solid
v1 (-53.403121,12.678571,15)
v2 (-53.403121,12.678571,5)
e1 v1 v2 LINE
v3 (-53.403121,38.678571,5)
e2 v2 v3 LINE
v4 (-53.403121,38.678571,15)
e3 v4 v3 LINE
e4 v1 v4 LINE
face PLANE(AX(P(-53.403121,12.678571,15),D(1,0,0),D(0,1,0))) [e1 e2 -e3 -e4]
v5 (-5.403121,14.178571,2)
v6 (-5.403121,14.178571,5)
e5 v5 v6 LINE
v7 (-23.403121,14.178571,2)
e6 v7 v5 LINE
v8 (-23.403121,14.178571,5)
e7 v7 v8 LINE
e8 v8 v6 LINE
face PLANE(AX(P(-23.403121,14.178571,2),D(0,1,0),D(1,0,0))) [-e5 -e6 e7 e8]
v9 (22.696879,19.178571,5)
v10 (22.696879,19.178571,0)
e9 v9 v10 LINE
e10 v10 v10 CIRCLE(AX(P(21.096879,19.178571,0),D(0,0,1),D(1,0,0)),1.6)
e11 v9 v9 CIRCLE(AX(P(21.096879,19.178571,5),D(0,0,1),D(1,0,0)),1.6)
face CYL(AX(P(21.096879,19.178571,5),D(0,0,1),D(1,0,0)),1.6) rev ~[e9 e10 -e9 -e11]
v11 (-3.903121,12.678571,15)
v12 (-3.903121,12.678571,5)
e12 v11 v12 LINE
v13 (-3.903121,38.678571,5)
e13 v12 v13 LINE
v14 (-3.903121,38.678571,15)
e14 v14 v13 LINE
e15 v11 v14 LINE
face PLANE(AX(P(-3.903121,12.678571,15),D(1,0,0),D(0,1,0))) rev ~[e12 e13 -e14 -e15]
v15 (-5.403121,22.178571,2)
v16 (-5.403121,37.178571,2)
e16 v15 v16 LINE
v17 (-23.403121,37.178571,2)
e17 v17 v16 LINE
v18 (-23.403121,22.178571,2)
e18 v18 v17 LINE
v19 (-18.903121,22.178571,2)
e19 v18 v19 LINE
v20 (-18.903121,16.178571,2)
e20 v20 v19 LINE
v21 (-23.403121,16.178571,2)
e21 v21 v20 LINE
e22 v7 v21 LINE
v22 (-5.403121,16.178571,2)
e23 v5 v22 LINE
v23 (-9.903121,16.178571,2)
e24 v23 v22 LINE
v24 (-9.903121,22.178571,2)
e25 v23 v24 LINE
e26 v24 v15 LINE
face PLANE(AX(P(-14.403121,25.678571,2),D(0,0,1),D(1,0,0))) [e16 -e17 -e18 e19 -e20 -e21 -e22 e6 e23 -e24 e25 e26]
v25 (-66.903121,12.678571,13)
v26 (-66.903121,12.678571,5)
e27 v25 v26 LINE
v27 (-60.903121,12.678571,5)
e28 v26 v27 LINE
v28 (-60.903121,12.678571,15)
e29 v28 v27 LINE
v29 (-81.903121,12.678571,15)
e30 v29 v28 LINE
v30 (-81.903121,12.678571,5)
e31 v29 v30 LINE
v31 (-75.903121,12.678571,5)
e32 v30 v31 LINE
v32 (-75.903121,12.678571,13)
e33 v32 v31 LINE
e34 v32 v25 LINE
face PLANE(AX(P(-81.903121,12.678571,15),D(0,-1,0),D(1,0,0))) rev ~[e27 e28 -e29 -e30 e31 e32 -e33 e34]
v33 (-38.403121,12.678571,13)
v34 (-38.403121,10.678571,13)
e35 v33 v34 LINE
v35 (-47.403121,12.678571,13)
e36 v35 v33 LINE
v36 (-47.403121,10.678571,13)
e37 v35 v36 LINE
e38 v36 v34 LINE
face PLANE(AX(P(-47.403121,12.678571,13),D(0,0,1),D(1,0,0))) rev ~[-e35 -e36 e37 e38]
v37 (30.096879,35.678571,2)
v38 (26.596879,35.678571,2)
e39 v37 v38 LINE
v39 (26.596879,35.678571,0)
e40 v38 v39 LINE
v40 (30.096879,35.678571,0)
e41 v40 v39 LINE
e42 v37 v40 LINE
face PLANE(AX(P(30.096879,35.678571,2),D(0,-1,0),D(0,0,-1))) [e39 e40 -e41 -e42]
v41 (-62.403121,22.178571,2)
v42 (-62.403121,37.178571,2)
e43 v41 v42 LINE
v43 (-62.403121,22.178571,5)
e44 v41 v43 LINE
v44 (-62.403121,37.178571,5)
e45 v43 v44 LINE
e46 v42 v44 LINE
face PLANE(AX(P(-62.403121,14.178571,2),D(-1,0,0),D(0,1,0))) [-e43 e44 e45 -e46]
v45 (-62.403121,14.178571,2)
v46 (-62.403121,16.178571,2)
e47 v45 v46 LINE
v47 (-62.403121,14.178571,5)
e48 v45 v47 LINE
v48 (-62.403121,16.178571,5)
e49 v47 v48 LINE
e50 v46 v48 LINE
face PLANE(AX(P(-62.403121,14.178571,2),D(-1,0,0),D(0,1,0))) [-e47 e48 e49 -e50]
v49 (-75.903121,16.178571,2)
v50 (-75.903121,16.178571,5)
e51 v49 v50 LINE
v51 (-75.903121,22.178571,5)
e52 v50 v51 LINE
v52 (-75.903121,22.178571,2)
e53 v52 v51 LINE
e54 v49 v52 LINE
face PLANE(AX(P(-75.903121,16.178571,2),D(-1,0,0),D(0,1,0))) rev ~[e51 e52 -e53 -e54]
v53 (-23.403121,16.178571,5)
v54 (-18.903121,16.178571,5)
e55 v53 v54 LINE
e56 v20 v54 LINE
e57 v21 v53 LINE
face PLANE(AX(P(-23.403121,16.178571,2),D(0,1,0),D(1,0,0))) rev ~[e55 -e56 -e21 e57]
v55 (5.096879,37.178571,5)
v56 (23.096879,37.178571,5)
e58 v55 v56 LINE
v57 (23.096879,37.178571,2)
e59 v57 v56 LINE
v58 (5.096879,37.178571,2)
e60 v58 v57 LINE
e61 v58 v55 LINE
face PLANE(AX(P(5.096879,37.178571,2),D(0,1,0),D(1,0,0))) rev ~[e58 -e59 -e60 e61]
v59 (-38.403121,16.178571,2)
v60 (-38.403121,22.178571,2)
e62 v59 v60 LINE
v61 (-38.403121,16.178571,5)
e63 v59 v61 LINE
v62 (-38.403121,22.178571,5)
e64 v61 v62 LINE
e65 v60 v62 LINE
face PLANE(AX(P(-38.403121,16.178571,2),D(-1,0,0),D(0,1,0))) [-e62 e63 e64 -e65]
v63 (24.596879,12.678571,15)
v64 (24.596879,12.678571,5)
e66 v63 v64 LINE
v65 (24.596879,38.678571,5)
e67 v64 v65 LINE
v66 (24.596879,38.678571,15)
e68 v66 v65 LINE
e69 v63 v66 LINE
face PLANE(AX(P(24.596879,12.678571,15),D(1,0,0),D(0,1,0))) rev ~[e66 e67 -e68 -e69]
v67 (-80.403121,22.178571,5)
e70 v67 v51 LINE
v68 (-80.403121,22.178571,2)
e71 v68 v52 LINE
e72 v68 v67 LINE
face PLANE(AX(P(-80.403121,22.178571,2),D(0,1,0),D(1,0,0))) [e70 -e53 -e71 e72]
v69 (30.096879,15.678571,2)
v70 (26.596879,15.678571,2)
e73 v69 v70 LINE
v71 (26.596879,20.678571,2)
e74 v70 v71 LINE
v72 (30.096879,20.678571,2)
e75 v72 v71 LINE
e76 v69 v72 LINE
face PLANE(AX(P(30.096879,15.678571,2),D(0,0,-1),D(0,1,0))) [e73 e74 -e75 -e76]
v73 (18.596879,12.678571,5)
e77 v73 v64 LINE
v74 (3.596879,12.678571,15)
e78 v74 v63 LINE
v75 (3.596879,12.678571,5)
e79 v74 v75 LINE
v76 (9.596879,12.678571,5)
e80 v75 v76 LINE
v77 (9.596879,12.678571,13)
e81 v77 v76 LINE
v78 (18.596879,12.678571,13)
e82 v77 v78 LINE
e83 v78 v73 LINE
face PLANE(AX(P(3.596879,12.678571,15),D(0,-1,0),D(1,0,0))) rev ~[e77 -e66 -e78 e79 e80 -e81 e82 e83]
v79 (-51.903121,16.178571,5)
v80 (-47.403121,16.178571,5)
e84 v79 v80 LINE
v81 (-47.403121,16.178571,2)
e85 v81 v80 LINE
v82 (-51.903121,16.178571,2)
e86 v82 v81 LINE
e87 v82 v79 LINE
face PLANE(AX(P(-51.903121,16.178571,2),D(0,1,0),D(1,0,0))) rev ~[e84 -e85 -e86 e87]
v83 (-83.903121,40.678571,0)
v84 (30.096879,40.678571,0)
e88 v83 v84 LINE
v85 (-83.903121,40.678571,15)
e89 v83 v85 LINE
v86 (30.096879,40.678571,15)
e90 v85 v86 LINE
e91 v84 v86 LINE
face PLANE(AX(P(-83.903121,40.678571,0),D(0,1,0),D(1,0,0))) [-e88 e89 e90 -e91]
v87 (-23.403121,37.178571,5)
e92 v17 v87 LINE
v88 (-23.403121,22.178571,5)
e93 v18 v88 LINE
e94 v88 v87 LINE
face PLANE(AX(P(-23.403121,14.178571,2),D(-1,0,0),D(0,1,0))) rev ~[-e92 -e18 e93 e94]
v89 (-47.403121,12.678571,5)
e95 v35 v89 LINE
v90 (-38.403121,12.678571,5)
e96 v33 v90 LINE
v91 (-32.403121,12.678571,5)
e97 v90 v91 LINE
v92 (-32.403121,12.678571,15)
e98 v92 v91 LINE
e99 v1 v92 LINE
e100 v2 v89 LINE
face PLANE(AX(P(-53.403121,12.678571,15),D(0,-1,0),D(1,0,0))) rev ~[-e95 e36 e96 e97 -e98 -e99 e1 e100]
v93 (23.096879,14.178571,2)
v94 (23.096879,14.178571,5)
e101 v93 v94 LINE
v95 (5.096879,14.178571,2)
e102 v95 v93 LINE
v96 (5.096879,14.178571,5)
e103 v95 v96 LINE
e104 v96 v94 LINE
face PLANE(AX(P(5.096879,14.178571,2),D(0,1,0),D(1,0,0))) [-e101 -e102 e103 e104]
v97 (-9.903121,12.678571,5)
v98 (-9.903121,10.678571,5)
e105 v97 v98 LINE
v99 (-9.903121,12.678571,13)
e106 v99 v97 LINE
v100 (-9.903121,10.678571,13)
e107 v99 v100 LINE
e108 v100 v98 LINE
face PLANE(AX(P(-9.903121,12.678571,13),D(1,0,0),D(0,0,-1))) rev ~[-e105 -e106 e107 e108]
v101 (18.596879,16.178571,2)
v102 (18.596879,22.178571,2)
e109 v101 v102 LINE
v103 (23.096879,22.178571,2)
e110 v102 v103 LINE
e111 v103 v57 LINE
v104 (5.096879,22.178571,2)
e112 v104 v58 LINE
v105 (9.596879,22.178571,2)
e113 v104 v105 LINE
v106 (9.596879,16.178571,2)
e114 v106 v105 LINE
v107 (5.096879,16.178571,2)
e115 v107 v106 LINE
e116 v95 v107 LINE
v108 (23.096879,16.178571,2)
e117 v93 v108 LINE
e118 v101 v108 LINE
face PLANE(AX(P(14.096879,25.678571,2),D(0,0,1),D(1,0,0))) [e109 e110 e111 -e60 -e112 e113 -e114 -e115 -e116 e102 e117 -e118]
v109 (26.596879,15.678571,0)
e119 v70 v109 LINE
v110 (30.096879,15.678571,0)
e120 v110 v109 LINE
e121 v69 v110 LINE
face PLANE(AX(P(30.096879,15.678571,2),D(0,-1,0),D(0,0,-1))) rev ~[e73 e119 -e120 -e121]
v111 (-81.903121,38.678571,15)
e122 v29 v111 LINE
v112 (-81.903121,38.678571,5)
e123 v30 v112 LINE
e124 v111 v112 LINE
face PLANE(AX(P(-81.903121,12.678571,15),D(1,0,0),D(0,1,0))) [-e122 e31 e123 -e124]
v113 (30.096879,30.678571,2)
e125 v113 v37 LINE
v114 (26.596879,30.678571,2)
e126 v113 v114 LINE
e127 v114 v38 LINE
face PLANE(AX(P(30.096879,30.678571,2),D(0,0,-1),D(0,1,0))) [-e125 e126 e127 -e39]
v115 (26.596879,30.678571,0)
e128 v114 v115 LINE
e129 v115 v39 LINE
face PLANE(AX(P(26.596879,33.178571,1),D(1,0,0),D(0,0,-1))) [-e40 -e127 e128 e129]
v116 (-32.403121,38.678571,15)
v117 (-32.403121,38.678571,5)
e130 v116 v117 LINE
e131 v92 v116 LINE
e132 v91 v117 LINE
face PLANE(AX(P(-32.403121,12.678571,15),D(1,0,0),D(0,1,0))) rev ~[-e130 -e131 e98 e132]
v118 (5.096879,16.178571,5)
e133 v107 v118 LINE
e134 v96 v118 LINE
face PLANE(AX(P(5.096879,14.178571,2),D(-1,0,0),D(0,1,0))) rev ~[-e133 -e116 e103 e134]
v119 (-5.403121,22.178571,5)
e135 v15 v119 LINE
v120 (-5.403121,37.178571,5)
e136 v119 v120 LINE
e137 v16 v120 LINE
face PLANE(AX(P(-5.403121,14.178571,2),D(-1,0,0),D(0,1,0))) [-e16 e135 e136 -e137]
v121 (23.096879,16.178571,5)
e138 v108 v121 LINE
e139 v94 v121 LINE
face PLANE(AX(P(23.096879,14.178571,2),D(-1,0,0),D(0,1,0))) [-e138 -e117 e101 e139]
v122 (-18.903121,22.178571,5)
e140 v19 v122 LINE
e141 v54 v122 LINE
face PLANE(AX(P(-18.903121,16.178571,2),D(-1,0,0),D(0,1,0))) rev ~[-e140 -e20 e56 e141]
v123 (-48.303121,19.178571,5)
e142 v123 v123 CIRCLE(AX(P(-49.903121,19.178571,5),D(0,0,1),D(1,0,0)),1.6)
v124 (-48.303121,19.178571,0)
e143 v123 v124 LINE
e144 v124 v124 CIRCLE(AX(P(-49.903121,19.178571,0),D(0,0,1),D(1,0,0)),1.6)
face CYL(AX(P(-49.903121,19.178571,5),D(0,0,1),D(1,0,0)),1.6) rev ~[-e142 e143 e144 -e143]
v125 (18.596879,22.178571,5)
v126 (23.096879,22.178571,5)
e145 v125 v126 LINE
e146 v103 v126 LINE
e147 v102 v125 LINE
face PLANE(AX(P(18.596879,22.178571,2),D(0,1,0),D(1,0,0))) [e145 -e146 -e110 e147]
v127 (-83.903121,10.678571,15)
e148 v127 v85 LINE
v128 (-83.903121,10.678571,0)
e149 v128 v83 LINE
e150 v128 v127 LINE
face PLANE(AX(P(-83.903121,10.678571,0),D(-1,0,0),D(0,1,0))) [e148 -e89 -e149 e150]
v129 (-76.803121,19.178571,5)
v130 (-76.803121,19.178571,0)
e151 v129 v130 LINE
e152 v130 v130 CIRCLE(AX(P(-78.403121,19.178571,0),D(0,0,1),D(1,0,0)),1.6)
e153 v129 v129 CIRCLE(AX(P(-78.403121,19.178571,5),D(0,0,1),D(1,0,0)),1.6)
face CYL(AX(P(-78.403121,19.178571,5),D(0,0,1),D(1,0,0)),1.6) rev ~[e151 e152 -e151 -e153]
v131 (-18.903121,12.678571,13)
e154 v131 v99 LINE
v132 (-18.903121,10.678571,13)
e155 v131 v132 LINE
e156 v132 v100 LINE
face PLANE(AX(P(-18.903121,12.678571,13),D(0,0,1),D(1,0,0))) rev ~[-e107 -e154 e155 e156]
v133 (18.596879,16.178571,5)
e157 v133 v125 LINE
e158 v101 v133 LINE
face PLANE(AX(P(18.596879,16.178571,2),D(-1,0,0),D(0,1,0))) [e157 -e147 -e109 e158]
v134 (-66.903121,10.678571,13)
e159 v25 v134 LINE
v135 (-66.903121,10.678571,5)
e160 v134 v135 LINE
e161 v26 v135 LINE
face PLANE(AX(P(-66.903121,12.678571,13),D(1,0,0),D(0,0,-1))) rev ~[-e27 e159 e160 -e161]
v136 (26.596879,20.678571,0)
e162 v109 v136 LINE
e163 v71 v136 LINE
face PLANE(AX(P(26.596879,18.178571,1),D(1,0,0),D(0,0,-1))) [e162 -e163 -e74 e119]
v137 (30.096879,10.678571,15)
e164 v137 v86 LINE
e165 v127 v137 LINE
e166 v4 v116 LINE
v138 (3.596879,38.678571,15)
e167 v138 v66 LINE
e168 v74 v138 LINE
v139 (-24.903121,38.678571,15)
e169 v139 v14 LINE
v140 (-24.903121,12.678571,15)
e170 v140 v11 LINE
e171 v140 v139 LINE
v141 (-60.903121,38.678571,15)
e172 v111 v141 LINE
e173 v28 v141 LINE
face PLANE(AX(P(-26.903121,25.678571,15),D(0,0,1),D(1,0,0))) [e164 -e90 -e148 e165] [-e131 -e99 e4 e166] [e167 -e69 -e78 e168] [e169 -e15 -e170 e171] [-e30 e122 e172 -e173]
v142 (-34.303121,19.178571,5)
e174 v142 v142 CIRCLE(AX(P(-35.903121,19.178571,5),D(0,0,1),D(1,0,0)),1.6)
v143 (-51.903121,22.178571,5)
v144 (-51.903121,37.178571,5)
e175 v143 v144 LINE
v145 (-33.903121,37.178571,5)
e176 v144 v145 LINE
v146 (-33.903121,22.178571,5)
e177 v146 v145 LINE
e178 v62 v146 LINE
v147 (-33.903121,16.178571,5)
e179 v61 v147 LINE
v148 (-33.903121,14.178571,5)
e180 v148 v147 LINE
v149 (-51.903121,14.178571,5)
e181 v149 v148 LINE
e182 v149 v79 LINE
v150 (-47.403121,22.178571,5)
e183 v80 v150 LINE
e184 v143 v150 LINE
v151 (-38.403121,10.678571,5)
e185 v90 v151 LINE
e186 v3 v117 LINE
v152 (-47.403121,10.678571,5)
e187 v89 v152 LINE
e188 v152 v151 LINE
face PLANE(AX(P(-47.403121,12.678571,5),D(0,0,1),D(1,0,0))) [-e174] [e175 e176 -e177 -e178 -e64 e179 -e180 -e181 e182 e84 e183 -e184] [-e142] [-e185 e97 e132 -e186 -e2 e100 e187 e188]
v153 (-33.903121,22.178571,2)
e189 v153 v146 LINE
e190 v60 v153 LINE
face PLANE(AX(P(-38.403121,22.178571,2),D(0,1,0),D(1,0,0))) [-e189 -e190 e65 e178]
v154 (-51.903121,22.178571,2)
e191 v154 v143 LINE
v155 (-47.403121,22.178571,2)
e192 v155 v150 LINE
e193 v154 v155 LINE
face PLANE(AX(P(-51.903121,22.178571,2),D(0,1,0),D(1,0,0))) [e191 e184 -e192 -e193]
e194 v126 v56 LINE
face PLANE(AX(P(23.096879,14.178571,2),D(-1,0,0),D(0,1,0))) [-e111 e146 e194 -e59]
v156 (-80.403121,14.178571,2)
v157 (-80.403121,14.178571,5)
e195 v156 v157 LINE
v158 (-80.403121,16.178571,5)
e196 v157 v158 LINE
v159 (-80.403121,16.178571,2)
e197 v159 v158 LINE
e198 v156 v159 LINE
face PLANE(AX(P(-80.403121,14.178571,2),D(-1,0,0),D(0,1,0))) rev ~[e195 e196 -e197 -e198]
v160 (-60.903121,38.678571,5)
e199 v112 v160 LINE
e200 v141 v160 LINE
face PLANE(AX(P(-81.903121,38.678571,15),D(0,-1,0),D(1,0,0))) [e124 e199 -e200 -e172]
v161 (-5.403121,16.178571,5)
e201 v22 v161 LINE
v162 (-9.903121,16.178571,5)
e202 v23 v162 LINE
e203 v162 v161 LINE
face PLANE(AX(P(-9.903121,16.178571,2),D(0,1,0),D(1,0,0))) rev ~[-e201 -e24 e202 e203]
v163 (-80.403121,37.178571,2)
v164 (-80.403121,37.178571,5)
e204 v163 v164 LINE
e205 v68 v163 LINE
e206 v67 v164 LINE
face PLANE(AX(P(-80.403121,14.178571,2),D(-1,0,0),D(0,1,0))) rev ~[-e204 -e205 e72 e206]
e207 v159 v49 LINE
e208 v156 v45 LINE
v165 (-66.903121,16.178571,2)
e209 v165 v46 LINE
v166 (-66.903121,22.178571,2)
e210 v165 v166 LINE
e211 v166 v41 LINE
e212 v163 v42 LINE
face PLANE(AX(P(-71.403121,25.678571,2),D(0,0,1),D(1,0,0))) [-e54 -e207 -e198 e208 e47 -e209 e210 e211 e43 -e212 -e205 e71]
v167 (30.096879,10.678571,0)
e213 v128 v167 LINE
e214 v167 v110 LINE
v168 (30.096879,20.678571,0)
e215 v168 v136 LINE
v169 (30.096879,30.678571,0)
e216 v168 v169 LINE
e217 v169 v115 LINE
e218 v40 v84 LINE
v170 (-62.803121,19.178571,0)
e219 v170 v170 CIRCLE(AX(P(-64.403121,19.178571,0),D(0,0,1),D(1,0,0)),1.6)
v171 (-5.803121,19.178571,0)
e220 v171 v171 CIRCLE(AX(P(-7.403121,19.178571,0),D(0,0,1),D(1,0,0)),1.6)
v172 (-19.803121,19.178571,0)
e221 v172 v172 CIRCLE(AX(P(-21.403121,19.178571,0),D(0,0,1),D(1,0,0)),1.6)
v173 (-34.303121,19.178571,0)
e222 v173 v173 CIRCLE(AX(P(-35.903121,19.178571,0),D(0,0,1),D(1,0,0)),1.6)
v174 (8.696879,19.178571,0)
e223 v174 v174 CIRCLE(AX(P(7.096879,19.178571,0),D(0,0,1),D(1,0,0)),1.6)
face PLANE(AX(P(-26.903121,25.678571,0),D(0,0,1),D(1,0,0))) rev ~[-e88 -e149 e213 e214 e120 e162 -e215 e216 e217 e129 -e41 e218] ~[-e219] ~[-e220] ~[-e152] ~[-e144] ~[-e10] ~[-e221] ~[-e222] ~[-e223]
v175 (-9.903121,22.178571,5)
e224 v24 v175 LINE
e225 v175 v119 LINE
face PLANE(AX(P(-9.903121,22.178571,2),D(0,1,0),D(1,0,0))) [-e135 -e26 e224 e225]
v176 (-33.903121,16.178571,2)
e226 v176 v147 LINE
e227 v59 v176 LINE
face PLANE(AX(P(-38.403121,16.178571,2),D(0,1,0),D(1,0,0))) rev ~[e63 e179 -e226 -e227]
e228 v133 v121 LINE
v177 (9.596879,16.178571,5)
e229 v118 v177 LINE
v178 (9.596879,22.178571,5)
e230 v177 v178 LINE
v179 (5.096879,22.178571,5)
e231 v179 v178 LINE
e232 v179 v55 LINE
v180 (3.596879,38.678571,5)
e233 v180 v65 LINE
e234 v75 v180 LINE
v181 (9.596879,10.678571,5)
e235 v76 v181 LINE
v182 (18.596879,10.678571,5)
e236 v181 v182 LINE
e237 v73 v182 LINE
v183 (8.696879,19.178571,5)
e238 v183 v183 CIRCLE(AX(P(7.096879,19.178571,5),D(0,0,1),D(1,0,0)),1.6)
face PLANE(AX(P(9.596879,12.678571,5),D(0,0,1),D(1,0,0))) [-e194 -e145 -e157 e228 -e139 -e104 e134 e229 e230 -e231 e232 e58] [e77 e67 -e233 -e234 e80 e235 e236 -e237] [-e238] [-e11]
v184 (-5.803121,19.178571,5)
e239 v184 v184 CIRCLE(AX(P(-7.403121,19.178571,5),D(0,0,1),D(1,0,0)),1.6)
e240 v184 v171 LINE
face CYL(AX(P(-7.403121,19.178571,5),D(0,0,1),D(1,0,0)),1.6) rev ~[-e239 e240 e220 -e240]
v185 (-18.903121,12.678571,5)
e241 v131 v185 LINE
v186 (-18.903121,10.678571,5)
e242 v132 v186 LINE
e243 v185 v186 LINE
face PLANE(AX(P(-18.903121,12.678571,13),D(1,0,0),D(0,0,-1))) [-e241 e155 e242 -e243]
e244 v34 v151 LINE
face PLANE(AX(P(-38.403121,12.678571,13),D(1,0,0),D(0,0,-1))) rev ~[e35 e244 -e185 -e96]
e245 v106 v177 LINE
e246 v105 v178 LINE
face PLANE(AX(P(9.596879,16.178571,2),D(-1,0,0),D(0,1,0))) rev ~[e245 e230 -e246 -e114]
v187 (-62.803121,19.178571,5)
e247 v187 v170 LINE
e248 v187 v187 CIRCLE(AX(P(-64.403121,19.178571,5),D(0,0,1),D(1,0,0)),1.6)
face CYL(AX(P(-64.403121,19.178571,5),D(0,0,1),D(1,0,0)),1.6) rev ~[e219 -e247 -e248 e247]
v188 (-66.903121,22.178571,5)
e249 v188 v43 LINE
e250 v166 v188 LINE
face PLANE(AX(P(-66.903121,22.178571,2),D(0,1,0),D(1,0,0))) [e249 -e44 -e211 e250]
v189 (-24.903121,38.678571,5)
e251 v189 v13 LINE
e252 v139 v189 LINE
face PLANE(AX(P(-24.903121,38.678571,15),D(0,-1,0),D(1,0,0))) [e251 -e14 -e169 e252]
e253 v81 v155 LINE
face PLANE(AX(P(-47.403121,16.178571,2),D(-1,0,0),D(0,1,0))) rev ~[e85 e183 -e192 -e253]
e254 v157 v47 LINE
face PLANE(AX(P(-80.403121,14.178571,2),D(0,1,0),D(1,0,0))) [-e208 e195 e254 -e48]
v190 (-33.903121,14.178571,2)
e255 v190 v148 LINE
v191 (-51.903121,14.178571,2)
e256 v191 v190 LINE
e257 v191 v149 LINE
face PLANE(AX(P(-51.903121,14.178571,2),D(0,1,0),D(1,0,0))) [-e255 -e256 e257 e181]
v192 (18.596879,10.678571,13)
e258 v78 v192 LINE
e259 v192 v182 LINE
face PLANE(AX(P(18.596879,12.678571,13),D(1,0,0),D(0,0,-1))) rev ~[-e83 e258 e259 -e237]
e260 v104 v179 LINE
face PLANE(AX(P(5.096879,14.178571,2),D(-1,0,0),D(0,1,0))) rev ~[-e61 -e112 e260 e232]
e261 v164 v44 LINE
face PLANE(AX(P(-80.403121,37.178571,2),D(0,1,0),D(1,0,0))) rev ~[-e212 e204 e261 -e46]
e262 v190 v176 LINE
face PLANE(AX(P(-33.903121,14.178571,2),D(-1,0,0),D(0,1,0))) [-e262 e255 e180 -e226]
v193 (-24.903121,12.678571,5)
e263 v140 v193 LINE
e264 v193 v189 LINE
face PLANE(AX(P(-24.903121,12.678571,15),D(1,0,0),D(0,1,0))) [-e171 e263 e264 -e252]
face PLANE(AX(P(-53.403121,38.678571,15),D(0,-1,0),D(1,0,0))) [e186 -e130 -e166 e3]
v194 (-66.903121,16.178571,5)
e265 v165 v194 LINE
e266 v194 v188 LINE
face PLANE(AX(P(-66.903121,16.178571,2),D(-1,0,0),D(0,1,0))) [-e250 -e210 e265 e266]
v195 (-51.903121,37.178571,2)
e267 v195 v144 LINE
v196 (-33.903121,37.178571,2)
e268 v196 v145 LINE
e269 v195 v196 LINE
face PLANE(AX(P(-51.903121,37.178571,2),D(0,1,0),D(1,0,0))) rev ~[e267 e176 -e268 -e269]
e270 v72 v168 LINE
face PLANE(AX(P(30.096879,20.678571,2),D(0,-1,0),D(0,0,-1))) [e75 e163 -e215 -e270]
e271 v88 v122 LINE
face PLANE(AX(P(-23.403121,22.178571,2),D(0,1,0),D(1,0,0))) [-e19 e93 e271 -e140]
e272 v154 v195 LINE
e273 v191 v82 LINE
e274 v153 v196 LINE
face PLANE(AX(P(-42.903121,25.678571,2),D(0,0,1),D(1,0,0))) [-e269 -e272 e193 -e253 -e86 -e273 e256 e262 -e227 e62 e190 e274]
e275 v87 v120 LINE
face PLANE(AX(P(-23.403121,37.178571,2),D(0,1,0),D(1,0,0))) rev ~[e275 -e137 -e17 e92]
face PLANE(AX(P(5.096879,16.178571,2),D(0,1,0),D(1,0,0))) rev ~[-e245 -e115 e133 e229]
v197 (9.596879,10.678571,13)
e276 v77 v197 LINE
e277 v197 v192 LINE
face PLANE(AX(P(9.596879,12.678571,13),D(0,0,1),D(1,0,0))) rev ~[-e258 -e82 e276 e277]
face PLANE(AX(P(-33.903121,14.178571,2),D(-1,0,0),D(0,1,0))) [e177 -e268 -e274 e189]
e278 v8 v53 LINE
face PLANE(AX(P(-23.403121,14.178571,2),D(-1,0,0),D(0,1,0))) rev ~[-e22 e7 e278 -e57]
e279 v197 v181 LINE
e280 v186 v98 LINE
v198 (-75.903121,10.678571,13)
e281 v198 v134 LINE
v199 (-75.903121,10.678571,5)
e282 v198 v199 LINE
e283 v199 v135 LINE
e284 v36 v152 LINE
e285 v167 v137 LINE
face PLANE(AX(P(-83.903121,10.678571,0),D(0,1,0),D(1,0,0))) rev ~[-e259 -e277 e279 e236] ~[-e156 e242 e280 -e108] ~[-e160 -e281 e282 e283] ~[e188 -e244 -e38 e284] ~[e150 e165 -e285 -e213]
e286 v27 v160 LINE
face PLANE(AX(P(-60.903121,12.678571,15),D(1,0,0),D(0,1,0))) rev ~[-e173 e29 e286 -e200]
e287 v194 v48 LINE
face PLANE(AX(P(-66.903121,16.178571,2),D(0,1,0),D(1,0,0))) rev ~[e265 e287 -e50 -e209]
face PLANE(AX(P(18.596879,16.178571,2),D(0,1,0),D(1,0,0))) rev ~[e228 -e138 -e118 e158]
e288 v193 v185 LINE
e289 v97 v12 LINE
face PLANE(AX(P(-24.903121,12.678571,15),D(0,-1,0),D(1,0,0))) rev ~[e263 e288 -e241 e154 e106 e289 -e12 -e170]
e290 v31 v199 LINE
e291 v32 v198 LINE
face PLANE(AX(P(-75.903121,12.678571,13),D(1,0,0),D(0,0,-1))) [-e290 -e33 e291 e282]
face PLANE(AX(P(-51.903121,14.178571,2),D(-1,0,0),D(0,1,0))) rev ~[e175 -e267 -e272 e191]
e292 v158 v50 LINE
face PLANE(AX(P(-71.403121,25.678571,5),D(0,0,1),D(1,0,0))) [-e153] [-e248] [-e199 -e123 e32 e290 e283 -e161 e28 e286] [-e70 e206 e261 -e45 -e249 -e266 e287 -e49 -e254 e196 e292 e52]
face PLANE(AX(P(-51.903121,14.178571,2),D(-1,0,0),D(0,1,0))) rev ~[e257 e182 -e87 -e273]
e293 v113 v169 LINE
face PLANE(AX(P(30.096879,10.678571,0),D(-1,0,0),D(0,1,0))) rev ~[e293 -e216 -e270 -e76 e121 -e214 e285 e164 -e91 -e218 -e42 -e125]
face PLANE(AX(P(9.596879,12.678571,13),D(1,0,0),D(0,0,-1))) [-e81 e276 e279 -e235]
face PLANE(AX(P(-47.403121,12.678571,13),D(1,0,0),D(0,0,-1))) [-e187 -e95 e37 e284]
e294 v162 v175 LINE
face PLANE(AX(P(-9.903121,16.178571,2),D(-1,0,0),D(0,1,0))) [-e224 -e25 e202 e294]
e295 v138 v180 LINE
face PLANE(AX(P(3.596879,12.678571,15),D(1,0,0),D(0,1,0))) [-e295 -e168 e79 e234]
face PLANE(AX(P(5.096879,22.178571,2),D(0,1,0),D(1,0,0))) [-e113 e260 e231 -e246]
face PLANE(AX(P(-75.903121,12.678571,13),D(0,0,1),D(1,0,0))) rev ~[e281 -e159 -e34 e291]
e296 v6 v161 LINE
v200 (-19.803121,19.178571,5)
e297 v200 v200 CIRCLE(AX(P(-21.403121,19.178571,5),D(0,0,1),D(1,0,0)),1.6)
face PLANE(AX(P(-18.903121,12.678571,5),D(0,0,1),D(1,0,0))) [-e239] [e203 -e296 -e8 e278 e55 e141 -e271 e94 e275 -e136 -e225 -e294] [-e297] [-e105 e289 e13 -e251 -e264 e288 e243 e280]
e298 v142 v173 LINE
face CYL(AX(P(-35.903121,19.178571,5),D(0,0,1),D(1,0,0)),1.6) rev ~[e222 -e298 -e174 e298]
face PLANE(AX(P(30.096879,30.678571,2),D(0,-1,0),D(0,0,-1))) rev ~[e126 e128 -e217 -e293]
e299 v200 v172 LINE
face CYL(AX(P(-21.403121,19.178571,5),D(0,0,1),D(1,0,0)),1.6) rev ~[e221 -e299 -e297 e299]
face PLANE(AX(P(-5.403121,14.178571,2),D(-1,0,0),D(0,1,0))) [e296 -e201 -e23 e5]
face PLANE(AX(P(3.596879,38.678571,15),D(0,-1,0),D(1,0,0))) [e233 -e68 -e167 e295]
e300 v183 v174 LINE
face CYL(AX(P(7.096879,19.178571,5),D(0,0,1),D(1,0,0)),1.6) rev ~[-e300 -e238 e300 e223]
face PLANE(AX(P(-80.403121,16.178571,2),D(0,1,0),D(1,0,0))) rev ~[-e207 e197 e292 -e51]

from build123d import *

# Parameters (mm, degrees)
SKETCH_1_W          = 114
SKETCH_1_H          = 30
EXTRUDE_1_DEPTH     = 15
SKETCH_2_W          = 21
SKETCH_2_H          = 26
CUT_EXTRUDE_1_DEPTH = 13
SKETCH_3_W          = 21
SKETCH_3_H          = 26
SKETCH_3_W_2        = 18
SKETCH_3_H_2        = 23
EXTRUDE_2_DEPTH     = 3
SKETCH_5_W          = 4.5
SKETCH_5_H          = 6
EXTRUDE_3_DEPTH     = 3
SKETCH_6_R          = 1.6
CUT_EXTRUDE_2_DEPTH = 94.778887913
SKETCH_7_W          = 9
SKETCH_7_H          = 8
CUT_EXTRUDE_3_DEPTH = 90.714734825
SKETCH_12_W         = 2
SKETCH_12_H         = 5
CUT_EXTRUDE_4_DEPTH = 3.5


with BuildPart() as part:
    # ｽｹｯﾁ1 → ﾎﾞｽ - 押し出し1 (new body)
    with BuildSketch(Plane.XY):
        with Locations((-26.90312059, 25.678571429)):
            Rectangle(SKETCH_1_W, SKETCH_1_H)
    extrude(amount=EXTRUDE_1_DEPTH)

    # ｽｹｯﾁ2 → ｶｯﾄ - 押し出し1 (cut)
    with BuildSketch(Plane.XY.offset(15)):
        with Locations((-71.40312059, 25.678571429)):
            Rectangle(SKETCH_2_W, SKETCH_2_H)
        with Locations((-42.90312059, 25.678571429)):
            Rectangle(SKETCH_2_W, SKETCH_2_H)
        with Locations((-14.40312059, 25.678571429)):
            Rectangle(SKETCH_2_W, SKETCH_2_H)
        with Locations((14.09687941, 25.678571429)):
            Rectangle(SKETCH_2_W, SKETCH_2_H)
    extrude(amount=-CUT_EXTRUDE_1_DEPTH, mode=Mode.SUBTRACT)

    # ｽｹｯﾁ3 → ﾎﾞｽ - 押し出し2 (add)
    # profile 1 of 4: a face of its own
    with BuildSketch(Plane.XY.offset(2)):
        with Locations((-71.40312059, 25.678571429)):
            Rectangle(SKETCH_3_W, SKETCH_3_H)
        with Locations((-71.40312059, 25.678571429)):
            Rectangle(SKETCH_3_W_2, SKETCH_3_H_2, mode=Mode.SUBTRACT)
    # profile 2 of 4: a face of its own
    with BuildSketch(Plane.XY.offset(2)):
        with Locations((-42.90312059, 25.678571429)):
            Rectangle(SKETCH_3_W, SKETCH_3_H)
        with Locations((-42.90312059, 25.678571429)):
            Rectangle(SKETCH_3_W_2, SKETCH_3_H_2, mode=Mode.SUBTRACT)
    # profile 3 of 4: a face of its own
    with BuildSketch(Plane.XY.offset(2)):
        with Locations((-14.40312059, 25.678571429)):
            Rectangle(SKETCH_3_W, SKETCH_3_H)
        with Locations((-14.40312059, 25.678571429)):
            Rectangle(SKETCH_3_W_2, SKETCH_3_H_2, mode=Mode.SUBTRACT)
    # profile 4 of 4: a face of its own
    with BuildSketch(Plane.XY.offset(2)):
        with Locations((14.09687941, 25.678571429)):
            Rectangle(SKETCH_3_W, SKETCH_3_H)
        with Locations((14.09687941, 25.678571429)):
            Rectangle(SKETCH_3_W_2, SKETCH_3_H_2, mode=Mode.SUBTRACT)
    extrude(amount=EXTRUDE_2_DEPTH)

    # ｽｹｯﾁ5 → ﾎﾞｽ - 押し出し3 (add)
    with BuildSketch(Plane.XY.offset(2)):
        with Locations((-64.65312059, 19.178571429)):
            Rectangle(SKETCH_5_W, SKETCH_5_H)
        with Locations((-78.15312059, 19.178571429)):
            Rectangle(SKETCH_5_W, SKETCH_5_H)
        with Locations((-49.65312059, 19.178571429)):
            Rectangle(SKETCH_5_W, SKETCH_5_H)
        with Locations((-36.15312059, 19.178571429)):
            Rectangle(SKETCH_5_W, SKETCH_5_H)
        with Locations((-21.15312059, 19.178571429)):
            Rectangle(SKETCH_5_W, SKETCH_5_H)
        with Locations((-7.65312059, 19.178571429)):
            Rectangle(SKETCH_5_W, SKETCH_5_H)
        with Locations((7.34687941, 19.178571429)):
            Rectangle(SKETCH_5_W, SKETCH_5_H)
        with Locations((20.84687941, 19.178571429)):
            Rectangle(SKETCH_5_W, SKETCH_5_H)
    extrude(amount=EXTRUDE_3_DEPTH)

    # ｽｹｯﾁ6 → ｶｯﾄ - 押し出し2 (cut, through all)
    with BuildSketch(Plane.XY.offset(5)):
        with Locations((-64.40312059, 19.178571429)):
            Circle(SKETCH_6_R)
        with Locations((-78.40312059, 19.178571429)):
            Circle(SKETCH_6_R)
        with Locations((-49.90312059, 19.178571429)):
            Circle(SKETCH_6_R)
        with Locations((-35.90312059, 19.178571429)):
            Circle(SKETCH_6_R)
        with Locations((-21.40312059, 19.178571429)):
            Circle(SKETCH_6_R)
        with Locations((-7.40312059, 19.178571429)):
            Circle(SKETCH_6_R)
        with Locations((7.09687941, 19.178571429)):
            Circle(SKETCH_6_R)
        with Locations((21.09687941, 19.178571429)):
            Circle(SKETCH_6_R)
    extrude(amount=-CUT_EXTRUDE_2_DEPTH, mode=Mode.SUBTRACT)

    # ｽｹｯﾁ7 → ｶｯﾄ - 押し出し3 (cut, through all)
    with BuildSketch(Plane(origin=(0, 12.678571429, 0), x_dir=(1, 0, 0), z_dir=(0, 1, 0))):
        with Locations((-71.40312059, -9)):
            Rectangle(SKETCH_7_W, SKETCH_7_H)
        with Locations((-42.90312059, -9)):
            Rectangle(SKETCH_7_W, SKETCH_7_H)
        with Locations((-14.40312059, -9)):
            Rectangle(SKETCH_7_W, SKETCH_7_H)
        with Locations((14.09687941, -9)):
            Rectangle(SKETCH_7_W, SKETCH_7_H)
    extrude(amount=-CUT_EXTRUDE_3_DEPTH, mode=Mode.SUBTRACT)

    # ｽｹｯﾁ12 → ｶｯﾄ - 押し出し4 (cut)
    with BuildSketch(Plane(origin=(30.09687941, 0, 0), x_dir=(0, 0, -1), z_dir=(1, 0, 0))):
        with Locations((-1, 18.178571429)):
            Rectangle(SKETCH_12_W, SKETCH_12_H)
        with Locations((-1, 33.178571429)):
            Rectangle(SKETCH_12_W, SKETCH_12_H)
    extrude(amount=-CUT_EXTRUDE_4_DEPTH, mode=Mode.SUBTRACT)


solid = part.part
